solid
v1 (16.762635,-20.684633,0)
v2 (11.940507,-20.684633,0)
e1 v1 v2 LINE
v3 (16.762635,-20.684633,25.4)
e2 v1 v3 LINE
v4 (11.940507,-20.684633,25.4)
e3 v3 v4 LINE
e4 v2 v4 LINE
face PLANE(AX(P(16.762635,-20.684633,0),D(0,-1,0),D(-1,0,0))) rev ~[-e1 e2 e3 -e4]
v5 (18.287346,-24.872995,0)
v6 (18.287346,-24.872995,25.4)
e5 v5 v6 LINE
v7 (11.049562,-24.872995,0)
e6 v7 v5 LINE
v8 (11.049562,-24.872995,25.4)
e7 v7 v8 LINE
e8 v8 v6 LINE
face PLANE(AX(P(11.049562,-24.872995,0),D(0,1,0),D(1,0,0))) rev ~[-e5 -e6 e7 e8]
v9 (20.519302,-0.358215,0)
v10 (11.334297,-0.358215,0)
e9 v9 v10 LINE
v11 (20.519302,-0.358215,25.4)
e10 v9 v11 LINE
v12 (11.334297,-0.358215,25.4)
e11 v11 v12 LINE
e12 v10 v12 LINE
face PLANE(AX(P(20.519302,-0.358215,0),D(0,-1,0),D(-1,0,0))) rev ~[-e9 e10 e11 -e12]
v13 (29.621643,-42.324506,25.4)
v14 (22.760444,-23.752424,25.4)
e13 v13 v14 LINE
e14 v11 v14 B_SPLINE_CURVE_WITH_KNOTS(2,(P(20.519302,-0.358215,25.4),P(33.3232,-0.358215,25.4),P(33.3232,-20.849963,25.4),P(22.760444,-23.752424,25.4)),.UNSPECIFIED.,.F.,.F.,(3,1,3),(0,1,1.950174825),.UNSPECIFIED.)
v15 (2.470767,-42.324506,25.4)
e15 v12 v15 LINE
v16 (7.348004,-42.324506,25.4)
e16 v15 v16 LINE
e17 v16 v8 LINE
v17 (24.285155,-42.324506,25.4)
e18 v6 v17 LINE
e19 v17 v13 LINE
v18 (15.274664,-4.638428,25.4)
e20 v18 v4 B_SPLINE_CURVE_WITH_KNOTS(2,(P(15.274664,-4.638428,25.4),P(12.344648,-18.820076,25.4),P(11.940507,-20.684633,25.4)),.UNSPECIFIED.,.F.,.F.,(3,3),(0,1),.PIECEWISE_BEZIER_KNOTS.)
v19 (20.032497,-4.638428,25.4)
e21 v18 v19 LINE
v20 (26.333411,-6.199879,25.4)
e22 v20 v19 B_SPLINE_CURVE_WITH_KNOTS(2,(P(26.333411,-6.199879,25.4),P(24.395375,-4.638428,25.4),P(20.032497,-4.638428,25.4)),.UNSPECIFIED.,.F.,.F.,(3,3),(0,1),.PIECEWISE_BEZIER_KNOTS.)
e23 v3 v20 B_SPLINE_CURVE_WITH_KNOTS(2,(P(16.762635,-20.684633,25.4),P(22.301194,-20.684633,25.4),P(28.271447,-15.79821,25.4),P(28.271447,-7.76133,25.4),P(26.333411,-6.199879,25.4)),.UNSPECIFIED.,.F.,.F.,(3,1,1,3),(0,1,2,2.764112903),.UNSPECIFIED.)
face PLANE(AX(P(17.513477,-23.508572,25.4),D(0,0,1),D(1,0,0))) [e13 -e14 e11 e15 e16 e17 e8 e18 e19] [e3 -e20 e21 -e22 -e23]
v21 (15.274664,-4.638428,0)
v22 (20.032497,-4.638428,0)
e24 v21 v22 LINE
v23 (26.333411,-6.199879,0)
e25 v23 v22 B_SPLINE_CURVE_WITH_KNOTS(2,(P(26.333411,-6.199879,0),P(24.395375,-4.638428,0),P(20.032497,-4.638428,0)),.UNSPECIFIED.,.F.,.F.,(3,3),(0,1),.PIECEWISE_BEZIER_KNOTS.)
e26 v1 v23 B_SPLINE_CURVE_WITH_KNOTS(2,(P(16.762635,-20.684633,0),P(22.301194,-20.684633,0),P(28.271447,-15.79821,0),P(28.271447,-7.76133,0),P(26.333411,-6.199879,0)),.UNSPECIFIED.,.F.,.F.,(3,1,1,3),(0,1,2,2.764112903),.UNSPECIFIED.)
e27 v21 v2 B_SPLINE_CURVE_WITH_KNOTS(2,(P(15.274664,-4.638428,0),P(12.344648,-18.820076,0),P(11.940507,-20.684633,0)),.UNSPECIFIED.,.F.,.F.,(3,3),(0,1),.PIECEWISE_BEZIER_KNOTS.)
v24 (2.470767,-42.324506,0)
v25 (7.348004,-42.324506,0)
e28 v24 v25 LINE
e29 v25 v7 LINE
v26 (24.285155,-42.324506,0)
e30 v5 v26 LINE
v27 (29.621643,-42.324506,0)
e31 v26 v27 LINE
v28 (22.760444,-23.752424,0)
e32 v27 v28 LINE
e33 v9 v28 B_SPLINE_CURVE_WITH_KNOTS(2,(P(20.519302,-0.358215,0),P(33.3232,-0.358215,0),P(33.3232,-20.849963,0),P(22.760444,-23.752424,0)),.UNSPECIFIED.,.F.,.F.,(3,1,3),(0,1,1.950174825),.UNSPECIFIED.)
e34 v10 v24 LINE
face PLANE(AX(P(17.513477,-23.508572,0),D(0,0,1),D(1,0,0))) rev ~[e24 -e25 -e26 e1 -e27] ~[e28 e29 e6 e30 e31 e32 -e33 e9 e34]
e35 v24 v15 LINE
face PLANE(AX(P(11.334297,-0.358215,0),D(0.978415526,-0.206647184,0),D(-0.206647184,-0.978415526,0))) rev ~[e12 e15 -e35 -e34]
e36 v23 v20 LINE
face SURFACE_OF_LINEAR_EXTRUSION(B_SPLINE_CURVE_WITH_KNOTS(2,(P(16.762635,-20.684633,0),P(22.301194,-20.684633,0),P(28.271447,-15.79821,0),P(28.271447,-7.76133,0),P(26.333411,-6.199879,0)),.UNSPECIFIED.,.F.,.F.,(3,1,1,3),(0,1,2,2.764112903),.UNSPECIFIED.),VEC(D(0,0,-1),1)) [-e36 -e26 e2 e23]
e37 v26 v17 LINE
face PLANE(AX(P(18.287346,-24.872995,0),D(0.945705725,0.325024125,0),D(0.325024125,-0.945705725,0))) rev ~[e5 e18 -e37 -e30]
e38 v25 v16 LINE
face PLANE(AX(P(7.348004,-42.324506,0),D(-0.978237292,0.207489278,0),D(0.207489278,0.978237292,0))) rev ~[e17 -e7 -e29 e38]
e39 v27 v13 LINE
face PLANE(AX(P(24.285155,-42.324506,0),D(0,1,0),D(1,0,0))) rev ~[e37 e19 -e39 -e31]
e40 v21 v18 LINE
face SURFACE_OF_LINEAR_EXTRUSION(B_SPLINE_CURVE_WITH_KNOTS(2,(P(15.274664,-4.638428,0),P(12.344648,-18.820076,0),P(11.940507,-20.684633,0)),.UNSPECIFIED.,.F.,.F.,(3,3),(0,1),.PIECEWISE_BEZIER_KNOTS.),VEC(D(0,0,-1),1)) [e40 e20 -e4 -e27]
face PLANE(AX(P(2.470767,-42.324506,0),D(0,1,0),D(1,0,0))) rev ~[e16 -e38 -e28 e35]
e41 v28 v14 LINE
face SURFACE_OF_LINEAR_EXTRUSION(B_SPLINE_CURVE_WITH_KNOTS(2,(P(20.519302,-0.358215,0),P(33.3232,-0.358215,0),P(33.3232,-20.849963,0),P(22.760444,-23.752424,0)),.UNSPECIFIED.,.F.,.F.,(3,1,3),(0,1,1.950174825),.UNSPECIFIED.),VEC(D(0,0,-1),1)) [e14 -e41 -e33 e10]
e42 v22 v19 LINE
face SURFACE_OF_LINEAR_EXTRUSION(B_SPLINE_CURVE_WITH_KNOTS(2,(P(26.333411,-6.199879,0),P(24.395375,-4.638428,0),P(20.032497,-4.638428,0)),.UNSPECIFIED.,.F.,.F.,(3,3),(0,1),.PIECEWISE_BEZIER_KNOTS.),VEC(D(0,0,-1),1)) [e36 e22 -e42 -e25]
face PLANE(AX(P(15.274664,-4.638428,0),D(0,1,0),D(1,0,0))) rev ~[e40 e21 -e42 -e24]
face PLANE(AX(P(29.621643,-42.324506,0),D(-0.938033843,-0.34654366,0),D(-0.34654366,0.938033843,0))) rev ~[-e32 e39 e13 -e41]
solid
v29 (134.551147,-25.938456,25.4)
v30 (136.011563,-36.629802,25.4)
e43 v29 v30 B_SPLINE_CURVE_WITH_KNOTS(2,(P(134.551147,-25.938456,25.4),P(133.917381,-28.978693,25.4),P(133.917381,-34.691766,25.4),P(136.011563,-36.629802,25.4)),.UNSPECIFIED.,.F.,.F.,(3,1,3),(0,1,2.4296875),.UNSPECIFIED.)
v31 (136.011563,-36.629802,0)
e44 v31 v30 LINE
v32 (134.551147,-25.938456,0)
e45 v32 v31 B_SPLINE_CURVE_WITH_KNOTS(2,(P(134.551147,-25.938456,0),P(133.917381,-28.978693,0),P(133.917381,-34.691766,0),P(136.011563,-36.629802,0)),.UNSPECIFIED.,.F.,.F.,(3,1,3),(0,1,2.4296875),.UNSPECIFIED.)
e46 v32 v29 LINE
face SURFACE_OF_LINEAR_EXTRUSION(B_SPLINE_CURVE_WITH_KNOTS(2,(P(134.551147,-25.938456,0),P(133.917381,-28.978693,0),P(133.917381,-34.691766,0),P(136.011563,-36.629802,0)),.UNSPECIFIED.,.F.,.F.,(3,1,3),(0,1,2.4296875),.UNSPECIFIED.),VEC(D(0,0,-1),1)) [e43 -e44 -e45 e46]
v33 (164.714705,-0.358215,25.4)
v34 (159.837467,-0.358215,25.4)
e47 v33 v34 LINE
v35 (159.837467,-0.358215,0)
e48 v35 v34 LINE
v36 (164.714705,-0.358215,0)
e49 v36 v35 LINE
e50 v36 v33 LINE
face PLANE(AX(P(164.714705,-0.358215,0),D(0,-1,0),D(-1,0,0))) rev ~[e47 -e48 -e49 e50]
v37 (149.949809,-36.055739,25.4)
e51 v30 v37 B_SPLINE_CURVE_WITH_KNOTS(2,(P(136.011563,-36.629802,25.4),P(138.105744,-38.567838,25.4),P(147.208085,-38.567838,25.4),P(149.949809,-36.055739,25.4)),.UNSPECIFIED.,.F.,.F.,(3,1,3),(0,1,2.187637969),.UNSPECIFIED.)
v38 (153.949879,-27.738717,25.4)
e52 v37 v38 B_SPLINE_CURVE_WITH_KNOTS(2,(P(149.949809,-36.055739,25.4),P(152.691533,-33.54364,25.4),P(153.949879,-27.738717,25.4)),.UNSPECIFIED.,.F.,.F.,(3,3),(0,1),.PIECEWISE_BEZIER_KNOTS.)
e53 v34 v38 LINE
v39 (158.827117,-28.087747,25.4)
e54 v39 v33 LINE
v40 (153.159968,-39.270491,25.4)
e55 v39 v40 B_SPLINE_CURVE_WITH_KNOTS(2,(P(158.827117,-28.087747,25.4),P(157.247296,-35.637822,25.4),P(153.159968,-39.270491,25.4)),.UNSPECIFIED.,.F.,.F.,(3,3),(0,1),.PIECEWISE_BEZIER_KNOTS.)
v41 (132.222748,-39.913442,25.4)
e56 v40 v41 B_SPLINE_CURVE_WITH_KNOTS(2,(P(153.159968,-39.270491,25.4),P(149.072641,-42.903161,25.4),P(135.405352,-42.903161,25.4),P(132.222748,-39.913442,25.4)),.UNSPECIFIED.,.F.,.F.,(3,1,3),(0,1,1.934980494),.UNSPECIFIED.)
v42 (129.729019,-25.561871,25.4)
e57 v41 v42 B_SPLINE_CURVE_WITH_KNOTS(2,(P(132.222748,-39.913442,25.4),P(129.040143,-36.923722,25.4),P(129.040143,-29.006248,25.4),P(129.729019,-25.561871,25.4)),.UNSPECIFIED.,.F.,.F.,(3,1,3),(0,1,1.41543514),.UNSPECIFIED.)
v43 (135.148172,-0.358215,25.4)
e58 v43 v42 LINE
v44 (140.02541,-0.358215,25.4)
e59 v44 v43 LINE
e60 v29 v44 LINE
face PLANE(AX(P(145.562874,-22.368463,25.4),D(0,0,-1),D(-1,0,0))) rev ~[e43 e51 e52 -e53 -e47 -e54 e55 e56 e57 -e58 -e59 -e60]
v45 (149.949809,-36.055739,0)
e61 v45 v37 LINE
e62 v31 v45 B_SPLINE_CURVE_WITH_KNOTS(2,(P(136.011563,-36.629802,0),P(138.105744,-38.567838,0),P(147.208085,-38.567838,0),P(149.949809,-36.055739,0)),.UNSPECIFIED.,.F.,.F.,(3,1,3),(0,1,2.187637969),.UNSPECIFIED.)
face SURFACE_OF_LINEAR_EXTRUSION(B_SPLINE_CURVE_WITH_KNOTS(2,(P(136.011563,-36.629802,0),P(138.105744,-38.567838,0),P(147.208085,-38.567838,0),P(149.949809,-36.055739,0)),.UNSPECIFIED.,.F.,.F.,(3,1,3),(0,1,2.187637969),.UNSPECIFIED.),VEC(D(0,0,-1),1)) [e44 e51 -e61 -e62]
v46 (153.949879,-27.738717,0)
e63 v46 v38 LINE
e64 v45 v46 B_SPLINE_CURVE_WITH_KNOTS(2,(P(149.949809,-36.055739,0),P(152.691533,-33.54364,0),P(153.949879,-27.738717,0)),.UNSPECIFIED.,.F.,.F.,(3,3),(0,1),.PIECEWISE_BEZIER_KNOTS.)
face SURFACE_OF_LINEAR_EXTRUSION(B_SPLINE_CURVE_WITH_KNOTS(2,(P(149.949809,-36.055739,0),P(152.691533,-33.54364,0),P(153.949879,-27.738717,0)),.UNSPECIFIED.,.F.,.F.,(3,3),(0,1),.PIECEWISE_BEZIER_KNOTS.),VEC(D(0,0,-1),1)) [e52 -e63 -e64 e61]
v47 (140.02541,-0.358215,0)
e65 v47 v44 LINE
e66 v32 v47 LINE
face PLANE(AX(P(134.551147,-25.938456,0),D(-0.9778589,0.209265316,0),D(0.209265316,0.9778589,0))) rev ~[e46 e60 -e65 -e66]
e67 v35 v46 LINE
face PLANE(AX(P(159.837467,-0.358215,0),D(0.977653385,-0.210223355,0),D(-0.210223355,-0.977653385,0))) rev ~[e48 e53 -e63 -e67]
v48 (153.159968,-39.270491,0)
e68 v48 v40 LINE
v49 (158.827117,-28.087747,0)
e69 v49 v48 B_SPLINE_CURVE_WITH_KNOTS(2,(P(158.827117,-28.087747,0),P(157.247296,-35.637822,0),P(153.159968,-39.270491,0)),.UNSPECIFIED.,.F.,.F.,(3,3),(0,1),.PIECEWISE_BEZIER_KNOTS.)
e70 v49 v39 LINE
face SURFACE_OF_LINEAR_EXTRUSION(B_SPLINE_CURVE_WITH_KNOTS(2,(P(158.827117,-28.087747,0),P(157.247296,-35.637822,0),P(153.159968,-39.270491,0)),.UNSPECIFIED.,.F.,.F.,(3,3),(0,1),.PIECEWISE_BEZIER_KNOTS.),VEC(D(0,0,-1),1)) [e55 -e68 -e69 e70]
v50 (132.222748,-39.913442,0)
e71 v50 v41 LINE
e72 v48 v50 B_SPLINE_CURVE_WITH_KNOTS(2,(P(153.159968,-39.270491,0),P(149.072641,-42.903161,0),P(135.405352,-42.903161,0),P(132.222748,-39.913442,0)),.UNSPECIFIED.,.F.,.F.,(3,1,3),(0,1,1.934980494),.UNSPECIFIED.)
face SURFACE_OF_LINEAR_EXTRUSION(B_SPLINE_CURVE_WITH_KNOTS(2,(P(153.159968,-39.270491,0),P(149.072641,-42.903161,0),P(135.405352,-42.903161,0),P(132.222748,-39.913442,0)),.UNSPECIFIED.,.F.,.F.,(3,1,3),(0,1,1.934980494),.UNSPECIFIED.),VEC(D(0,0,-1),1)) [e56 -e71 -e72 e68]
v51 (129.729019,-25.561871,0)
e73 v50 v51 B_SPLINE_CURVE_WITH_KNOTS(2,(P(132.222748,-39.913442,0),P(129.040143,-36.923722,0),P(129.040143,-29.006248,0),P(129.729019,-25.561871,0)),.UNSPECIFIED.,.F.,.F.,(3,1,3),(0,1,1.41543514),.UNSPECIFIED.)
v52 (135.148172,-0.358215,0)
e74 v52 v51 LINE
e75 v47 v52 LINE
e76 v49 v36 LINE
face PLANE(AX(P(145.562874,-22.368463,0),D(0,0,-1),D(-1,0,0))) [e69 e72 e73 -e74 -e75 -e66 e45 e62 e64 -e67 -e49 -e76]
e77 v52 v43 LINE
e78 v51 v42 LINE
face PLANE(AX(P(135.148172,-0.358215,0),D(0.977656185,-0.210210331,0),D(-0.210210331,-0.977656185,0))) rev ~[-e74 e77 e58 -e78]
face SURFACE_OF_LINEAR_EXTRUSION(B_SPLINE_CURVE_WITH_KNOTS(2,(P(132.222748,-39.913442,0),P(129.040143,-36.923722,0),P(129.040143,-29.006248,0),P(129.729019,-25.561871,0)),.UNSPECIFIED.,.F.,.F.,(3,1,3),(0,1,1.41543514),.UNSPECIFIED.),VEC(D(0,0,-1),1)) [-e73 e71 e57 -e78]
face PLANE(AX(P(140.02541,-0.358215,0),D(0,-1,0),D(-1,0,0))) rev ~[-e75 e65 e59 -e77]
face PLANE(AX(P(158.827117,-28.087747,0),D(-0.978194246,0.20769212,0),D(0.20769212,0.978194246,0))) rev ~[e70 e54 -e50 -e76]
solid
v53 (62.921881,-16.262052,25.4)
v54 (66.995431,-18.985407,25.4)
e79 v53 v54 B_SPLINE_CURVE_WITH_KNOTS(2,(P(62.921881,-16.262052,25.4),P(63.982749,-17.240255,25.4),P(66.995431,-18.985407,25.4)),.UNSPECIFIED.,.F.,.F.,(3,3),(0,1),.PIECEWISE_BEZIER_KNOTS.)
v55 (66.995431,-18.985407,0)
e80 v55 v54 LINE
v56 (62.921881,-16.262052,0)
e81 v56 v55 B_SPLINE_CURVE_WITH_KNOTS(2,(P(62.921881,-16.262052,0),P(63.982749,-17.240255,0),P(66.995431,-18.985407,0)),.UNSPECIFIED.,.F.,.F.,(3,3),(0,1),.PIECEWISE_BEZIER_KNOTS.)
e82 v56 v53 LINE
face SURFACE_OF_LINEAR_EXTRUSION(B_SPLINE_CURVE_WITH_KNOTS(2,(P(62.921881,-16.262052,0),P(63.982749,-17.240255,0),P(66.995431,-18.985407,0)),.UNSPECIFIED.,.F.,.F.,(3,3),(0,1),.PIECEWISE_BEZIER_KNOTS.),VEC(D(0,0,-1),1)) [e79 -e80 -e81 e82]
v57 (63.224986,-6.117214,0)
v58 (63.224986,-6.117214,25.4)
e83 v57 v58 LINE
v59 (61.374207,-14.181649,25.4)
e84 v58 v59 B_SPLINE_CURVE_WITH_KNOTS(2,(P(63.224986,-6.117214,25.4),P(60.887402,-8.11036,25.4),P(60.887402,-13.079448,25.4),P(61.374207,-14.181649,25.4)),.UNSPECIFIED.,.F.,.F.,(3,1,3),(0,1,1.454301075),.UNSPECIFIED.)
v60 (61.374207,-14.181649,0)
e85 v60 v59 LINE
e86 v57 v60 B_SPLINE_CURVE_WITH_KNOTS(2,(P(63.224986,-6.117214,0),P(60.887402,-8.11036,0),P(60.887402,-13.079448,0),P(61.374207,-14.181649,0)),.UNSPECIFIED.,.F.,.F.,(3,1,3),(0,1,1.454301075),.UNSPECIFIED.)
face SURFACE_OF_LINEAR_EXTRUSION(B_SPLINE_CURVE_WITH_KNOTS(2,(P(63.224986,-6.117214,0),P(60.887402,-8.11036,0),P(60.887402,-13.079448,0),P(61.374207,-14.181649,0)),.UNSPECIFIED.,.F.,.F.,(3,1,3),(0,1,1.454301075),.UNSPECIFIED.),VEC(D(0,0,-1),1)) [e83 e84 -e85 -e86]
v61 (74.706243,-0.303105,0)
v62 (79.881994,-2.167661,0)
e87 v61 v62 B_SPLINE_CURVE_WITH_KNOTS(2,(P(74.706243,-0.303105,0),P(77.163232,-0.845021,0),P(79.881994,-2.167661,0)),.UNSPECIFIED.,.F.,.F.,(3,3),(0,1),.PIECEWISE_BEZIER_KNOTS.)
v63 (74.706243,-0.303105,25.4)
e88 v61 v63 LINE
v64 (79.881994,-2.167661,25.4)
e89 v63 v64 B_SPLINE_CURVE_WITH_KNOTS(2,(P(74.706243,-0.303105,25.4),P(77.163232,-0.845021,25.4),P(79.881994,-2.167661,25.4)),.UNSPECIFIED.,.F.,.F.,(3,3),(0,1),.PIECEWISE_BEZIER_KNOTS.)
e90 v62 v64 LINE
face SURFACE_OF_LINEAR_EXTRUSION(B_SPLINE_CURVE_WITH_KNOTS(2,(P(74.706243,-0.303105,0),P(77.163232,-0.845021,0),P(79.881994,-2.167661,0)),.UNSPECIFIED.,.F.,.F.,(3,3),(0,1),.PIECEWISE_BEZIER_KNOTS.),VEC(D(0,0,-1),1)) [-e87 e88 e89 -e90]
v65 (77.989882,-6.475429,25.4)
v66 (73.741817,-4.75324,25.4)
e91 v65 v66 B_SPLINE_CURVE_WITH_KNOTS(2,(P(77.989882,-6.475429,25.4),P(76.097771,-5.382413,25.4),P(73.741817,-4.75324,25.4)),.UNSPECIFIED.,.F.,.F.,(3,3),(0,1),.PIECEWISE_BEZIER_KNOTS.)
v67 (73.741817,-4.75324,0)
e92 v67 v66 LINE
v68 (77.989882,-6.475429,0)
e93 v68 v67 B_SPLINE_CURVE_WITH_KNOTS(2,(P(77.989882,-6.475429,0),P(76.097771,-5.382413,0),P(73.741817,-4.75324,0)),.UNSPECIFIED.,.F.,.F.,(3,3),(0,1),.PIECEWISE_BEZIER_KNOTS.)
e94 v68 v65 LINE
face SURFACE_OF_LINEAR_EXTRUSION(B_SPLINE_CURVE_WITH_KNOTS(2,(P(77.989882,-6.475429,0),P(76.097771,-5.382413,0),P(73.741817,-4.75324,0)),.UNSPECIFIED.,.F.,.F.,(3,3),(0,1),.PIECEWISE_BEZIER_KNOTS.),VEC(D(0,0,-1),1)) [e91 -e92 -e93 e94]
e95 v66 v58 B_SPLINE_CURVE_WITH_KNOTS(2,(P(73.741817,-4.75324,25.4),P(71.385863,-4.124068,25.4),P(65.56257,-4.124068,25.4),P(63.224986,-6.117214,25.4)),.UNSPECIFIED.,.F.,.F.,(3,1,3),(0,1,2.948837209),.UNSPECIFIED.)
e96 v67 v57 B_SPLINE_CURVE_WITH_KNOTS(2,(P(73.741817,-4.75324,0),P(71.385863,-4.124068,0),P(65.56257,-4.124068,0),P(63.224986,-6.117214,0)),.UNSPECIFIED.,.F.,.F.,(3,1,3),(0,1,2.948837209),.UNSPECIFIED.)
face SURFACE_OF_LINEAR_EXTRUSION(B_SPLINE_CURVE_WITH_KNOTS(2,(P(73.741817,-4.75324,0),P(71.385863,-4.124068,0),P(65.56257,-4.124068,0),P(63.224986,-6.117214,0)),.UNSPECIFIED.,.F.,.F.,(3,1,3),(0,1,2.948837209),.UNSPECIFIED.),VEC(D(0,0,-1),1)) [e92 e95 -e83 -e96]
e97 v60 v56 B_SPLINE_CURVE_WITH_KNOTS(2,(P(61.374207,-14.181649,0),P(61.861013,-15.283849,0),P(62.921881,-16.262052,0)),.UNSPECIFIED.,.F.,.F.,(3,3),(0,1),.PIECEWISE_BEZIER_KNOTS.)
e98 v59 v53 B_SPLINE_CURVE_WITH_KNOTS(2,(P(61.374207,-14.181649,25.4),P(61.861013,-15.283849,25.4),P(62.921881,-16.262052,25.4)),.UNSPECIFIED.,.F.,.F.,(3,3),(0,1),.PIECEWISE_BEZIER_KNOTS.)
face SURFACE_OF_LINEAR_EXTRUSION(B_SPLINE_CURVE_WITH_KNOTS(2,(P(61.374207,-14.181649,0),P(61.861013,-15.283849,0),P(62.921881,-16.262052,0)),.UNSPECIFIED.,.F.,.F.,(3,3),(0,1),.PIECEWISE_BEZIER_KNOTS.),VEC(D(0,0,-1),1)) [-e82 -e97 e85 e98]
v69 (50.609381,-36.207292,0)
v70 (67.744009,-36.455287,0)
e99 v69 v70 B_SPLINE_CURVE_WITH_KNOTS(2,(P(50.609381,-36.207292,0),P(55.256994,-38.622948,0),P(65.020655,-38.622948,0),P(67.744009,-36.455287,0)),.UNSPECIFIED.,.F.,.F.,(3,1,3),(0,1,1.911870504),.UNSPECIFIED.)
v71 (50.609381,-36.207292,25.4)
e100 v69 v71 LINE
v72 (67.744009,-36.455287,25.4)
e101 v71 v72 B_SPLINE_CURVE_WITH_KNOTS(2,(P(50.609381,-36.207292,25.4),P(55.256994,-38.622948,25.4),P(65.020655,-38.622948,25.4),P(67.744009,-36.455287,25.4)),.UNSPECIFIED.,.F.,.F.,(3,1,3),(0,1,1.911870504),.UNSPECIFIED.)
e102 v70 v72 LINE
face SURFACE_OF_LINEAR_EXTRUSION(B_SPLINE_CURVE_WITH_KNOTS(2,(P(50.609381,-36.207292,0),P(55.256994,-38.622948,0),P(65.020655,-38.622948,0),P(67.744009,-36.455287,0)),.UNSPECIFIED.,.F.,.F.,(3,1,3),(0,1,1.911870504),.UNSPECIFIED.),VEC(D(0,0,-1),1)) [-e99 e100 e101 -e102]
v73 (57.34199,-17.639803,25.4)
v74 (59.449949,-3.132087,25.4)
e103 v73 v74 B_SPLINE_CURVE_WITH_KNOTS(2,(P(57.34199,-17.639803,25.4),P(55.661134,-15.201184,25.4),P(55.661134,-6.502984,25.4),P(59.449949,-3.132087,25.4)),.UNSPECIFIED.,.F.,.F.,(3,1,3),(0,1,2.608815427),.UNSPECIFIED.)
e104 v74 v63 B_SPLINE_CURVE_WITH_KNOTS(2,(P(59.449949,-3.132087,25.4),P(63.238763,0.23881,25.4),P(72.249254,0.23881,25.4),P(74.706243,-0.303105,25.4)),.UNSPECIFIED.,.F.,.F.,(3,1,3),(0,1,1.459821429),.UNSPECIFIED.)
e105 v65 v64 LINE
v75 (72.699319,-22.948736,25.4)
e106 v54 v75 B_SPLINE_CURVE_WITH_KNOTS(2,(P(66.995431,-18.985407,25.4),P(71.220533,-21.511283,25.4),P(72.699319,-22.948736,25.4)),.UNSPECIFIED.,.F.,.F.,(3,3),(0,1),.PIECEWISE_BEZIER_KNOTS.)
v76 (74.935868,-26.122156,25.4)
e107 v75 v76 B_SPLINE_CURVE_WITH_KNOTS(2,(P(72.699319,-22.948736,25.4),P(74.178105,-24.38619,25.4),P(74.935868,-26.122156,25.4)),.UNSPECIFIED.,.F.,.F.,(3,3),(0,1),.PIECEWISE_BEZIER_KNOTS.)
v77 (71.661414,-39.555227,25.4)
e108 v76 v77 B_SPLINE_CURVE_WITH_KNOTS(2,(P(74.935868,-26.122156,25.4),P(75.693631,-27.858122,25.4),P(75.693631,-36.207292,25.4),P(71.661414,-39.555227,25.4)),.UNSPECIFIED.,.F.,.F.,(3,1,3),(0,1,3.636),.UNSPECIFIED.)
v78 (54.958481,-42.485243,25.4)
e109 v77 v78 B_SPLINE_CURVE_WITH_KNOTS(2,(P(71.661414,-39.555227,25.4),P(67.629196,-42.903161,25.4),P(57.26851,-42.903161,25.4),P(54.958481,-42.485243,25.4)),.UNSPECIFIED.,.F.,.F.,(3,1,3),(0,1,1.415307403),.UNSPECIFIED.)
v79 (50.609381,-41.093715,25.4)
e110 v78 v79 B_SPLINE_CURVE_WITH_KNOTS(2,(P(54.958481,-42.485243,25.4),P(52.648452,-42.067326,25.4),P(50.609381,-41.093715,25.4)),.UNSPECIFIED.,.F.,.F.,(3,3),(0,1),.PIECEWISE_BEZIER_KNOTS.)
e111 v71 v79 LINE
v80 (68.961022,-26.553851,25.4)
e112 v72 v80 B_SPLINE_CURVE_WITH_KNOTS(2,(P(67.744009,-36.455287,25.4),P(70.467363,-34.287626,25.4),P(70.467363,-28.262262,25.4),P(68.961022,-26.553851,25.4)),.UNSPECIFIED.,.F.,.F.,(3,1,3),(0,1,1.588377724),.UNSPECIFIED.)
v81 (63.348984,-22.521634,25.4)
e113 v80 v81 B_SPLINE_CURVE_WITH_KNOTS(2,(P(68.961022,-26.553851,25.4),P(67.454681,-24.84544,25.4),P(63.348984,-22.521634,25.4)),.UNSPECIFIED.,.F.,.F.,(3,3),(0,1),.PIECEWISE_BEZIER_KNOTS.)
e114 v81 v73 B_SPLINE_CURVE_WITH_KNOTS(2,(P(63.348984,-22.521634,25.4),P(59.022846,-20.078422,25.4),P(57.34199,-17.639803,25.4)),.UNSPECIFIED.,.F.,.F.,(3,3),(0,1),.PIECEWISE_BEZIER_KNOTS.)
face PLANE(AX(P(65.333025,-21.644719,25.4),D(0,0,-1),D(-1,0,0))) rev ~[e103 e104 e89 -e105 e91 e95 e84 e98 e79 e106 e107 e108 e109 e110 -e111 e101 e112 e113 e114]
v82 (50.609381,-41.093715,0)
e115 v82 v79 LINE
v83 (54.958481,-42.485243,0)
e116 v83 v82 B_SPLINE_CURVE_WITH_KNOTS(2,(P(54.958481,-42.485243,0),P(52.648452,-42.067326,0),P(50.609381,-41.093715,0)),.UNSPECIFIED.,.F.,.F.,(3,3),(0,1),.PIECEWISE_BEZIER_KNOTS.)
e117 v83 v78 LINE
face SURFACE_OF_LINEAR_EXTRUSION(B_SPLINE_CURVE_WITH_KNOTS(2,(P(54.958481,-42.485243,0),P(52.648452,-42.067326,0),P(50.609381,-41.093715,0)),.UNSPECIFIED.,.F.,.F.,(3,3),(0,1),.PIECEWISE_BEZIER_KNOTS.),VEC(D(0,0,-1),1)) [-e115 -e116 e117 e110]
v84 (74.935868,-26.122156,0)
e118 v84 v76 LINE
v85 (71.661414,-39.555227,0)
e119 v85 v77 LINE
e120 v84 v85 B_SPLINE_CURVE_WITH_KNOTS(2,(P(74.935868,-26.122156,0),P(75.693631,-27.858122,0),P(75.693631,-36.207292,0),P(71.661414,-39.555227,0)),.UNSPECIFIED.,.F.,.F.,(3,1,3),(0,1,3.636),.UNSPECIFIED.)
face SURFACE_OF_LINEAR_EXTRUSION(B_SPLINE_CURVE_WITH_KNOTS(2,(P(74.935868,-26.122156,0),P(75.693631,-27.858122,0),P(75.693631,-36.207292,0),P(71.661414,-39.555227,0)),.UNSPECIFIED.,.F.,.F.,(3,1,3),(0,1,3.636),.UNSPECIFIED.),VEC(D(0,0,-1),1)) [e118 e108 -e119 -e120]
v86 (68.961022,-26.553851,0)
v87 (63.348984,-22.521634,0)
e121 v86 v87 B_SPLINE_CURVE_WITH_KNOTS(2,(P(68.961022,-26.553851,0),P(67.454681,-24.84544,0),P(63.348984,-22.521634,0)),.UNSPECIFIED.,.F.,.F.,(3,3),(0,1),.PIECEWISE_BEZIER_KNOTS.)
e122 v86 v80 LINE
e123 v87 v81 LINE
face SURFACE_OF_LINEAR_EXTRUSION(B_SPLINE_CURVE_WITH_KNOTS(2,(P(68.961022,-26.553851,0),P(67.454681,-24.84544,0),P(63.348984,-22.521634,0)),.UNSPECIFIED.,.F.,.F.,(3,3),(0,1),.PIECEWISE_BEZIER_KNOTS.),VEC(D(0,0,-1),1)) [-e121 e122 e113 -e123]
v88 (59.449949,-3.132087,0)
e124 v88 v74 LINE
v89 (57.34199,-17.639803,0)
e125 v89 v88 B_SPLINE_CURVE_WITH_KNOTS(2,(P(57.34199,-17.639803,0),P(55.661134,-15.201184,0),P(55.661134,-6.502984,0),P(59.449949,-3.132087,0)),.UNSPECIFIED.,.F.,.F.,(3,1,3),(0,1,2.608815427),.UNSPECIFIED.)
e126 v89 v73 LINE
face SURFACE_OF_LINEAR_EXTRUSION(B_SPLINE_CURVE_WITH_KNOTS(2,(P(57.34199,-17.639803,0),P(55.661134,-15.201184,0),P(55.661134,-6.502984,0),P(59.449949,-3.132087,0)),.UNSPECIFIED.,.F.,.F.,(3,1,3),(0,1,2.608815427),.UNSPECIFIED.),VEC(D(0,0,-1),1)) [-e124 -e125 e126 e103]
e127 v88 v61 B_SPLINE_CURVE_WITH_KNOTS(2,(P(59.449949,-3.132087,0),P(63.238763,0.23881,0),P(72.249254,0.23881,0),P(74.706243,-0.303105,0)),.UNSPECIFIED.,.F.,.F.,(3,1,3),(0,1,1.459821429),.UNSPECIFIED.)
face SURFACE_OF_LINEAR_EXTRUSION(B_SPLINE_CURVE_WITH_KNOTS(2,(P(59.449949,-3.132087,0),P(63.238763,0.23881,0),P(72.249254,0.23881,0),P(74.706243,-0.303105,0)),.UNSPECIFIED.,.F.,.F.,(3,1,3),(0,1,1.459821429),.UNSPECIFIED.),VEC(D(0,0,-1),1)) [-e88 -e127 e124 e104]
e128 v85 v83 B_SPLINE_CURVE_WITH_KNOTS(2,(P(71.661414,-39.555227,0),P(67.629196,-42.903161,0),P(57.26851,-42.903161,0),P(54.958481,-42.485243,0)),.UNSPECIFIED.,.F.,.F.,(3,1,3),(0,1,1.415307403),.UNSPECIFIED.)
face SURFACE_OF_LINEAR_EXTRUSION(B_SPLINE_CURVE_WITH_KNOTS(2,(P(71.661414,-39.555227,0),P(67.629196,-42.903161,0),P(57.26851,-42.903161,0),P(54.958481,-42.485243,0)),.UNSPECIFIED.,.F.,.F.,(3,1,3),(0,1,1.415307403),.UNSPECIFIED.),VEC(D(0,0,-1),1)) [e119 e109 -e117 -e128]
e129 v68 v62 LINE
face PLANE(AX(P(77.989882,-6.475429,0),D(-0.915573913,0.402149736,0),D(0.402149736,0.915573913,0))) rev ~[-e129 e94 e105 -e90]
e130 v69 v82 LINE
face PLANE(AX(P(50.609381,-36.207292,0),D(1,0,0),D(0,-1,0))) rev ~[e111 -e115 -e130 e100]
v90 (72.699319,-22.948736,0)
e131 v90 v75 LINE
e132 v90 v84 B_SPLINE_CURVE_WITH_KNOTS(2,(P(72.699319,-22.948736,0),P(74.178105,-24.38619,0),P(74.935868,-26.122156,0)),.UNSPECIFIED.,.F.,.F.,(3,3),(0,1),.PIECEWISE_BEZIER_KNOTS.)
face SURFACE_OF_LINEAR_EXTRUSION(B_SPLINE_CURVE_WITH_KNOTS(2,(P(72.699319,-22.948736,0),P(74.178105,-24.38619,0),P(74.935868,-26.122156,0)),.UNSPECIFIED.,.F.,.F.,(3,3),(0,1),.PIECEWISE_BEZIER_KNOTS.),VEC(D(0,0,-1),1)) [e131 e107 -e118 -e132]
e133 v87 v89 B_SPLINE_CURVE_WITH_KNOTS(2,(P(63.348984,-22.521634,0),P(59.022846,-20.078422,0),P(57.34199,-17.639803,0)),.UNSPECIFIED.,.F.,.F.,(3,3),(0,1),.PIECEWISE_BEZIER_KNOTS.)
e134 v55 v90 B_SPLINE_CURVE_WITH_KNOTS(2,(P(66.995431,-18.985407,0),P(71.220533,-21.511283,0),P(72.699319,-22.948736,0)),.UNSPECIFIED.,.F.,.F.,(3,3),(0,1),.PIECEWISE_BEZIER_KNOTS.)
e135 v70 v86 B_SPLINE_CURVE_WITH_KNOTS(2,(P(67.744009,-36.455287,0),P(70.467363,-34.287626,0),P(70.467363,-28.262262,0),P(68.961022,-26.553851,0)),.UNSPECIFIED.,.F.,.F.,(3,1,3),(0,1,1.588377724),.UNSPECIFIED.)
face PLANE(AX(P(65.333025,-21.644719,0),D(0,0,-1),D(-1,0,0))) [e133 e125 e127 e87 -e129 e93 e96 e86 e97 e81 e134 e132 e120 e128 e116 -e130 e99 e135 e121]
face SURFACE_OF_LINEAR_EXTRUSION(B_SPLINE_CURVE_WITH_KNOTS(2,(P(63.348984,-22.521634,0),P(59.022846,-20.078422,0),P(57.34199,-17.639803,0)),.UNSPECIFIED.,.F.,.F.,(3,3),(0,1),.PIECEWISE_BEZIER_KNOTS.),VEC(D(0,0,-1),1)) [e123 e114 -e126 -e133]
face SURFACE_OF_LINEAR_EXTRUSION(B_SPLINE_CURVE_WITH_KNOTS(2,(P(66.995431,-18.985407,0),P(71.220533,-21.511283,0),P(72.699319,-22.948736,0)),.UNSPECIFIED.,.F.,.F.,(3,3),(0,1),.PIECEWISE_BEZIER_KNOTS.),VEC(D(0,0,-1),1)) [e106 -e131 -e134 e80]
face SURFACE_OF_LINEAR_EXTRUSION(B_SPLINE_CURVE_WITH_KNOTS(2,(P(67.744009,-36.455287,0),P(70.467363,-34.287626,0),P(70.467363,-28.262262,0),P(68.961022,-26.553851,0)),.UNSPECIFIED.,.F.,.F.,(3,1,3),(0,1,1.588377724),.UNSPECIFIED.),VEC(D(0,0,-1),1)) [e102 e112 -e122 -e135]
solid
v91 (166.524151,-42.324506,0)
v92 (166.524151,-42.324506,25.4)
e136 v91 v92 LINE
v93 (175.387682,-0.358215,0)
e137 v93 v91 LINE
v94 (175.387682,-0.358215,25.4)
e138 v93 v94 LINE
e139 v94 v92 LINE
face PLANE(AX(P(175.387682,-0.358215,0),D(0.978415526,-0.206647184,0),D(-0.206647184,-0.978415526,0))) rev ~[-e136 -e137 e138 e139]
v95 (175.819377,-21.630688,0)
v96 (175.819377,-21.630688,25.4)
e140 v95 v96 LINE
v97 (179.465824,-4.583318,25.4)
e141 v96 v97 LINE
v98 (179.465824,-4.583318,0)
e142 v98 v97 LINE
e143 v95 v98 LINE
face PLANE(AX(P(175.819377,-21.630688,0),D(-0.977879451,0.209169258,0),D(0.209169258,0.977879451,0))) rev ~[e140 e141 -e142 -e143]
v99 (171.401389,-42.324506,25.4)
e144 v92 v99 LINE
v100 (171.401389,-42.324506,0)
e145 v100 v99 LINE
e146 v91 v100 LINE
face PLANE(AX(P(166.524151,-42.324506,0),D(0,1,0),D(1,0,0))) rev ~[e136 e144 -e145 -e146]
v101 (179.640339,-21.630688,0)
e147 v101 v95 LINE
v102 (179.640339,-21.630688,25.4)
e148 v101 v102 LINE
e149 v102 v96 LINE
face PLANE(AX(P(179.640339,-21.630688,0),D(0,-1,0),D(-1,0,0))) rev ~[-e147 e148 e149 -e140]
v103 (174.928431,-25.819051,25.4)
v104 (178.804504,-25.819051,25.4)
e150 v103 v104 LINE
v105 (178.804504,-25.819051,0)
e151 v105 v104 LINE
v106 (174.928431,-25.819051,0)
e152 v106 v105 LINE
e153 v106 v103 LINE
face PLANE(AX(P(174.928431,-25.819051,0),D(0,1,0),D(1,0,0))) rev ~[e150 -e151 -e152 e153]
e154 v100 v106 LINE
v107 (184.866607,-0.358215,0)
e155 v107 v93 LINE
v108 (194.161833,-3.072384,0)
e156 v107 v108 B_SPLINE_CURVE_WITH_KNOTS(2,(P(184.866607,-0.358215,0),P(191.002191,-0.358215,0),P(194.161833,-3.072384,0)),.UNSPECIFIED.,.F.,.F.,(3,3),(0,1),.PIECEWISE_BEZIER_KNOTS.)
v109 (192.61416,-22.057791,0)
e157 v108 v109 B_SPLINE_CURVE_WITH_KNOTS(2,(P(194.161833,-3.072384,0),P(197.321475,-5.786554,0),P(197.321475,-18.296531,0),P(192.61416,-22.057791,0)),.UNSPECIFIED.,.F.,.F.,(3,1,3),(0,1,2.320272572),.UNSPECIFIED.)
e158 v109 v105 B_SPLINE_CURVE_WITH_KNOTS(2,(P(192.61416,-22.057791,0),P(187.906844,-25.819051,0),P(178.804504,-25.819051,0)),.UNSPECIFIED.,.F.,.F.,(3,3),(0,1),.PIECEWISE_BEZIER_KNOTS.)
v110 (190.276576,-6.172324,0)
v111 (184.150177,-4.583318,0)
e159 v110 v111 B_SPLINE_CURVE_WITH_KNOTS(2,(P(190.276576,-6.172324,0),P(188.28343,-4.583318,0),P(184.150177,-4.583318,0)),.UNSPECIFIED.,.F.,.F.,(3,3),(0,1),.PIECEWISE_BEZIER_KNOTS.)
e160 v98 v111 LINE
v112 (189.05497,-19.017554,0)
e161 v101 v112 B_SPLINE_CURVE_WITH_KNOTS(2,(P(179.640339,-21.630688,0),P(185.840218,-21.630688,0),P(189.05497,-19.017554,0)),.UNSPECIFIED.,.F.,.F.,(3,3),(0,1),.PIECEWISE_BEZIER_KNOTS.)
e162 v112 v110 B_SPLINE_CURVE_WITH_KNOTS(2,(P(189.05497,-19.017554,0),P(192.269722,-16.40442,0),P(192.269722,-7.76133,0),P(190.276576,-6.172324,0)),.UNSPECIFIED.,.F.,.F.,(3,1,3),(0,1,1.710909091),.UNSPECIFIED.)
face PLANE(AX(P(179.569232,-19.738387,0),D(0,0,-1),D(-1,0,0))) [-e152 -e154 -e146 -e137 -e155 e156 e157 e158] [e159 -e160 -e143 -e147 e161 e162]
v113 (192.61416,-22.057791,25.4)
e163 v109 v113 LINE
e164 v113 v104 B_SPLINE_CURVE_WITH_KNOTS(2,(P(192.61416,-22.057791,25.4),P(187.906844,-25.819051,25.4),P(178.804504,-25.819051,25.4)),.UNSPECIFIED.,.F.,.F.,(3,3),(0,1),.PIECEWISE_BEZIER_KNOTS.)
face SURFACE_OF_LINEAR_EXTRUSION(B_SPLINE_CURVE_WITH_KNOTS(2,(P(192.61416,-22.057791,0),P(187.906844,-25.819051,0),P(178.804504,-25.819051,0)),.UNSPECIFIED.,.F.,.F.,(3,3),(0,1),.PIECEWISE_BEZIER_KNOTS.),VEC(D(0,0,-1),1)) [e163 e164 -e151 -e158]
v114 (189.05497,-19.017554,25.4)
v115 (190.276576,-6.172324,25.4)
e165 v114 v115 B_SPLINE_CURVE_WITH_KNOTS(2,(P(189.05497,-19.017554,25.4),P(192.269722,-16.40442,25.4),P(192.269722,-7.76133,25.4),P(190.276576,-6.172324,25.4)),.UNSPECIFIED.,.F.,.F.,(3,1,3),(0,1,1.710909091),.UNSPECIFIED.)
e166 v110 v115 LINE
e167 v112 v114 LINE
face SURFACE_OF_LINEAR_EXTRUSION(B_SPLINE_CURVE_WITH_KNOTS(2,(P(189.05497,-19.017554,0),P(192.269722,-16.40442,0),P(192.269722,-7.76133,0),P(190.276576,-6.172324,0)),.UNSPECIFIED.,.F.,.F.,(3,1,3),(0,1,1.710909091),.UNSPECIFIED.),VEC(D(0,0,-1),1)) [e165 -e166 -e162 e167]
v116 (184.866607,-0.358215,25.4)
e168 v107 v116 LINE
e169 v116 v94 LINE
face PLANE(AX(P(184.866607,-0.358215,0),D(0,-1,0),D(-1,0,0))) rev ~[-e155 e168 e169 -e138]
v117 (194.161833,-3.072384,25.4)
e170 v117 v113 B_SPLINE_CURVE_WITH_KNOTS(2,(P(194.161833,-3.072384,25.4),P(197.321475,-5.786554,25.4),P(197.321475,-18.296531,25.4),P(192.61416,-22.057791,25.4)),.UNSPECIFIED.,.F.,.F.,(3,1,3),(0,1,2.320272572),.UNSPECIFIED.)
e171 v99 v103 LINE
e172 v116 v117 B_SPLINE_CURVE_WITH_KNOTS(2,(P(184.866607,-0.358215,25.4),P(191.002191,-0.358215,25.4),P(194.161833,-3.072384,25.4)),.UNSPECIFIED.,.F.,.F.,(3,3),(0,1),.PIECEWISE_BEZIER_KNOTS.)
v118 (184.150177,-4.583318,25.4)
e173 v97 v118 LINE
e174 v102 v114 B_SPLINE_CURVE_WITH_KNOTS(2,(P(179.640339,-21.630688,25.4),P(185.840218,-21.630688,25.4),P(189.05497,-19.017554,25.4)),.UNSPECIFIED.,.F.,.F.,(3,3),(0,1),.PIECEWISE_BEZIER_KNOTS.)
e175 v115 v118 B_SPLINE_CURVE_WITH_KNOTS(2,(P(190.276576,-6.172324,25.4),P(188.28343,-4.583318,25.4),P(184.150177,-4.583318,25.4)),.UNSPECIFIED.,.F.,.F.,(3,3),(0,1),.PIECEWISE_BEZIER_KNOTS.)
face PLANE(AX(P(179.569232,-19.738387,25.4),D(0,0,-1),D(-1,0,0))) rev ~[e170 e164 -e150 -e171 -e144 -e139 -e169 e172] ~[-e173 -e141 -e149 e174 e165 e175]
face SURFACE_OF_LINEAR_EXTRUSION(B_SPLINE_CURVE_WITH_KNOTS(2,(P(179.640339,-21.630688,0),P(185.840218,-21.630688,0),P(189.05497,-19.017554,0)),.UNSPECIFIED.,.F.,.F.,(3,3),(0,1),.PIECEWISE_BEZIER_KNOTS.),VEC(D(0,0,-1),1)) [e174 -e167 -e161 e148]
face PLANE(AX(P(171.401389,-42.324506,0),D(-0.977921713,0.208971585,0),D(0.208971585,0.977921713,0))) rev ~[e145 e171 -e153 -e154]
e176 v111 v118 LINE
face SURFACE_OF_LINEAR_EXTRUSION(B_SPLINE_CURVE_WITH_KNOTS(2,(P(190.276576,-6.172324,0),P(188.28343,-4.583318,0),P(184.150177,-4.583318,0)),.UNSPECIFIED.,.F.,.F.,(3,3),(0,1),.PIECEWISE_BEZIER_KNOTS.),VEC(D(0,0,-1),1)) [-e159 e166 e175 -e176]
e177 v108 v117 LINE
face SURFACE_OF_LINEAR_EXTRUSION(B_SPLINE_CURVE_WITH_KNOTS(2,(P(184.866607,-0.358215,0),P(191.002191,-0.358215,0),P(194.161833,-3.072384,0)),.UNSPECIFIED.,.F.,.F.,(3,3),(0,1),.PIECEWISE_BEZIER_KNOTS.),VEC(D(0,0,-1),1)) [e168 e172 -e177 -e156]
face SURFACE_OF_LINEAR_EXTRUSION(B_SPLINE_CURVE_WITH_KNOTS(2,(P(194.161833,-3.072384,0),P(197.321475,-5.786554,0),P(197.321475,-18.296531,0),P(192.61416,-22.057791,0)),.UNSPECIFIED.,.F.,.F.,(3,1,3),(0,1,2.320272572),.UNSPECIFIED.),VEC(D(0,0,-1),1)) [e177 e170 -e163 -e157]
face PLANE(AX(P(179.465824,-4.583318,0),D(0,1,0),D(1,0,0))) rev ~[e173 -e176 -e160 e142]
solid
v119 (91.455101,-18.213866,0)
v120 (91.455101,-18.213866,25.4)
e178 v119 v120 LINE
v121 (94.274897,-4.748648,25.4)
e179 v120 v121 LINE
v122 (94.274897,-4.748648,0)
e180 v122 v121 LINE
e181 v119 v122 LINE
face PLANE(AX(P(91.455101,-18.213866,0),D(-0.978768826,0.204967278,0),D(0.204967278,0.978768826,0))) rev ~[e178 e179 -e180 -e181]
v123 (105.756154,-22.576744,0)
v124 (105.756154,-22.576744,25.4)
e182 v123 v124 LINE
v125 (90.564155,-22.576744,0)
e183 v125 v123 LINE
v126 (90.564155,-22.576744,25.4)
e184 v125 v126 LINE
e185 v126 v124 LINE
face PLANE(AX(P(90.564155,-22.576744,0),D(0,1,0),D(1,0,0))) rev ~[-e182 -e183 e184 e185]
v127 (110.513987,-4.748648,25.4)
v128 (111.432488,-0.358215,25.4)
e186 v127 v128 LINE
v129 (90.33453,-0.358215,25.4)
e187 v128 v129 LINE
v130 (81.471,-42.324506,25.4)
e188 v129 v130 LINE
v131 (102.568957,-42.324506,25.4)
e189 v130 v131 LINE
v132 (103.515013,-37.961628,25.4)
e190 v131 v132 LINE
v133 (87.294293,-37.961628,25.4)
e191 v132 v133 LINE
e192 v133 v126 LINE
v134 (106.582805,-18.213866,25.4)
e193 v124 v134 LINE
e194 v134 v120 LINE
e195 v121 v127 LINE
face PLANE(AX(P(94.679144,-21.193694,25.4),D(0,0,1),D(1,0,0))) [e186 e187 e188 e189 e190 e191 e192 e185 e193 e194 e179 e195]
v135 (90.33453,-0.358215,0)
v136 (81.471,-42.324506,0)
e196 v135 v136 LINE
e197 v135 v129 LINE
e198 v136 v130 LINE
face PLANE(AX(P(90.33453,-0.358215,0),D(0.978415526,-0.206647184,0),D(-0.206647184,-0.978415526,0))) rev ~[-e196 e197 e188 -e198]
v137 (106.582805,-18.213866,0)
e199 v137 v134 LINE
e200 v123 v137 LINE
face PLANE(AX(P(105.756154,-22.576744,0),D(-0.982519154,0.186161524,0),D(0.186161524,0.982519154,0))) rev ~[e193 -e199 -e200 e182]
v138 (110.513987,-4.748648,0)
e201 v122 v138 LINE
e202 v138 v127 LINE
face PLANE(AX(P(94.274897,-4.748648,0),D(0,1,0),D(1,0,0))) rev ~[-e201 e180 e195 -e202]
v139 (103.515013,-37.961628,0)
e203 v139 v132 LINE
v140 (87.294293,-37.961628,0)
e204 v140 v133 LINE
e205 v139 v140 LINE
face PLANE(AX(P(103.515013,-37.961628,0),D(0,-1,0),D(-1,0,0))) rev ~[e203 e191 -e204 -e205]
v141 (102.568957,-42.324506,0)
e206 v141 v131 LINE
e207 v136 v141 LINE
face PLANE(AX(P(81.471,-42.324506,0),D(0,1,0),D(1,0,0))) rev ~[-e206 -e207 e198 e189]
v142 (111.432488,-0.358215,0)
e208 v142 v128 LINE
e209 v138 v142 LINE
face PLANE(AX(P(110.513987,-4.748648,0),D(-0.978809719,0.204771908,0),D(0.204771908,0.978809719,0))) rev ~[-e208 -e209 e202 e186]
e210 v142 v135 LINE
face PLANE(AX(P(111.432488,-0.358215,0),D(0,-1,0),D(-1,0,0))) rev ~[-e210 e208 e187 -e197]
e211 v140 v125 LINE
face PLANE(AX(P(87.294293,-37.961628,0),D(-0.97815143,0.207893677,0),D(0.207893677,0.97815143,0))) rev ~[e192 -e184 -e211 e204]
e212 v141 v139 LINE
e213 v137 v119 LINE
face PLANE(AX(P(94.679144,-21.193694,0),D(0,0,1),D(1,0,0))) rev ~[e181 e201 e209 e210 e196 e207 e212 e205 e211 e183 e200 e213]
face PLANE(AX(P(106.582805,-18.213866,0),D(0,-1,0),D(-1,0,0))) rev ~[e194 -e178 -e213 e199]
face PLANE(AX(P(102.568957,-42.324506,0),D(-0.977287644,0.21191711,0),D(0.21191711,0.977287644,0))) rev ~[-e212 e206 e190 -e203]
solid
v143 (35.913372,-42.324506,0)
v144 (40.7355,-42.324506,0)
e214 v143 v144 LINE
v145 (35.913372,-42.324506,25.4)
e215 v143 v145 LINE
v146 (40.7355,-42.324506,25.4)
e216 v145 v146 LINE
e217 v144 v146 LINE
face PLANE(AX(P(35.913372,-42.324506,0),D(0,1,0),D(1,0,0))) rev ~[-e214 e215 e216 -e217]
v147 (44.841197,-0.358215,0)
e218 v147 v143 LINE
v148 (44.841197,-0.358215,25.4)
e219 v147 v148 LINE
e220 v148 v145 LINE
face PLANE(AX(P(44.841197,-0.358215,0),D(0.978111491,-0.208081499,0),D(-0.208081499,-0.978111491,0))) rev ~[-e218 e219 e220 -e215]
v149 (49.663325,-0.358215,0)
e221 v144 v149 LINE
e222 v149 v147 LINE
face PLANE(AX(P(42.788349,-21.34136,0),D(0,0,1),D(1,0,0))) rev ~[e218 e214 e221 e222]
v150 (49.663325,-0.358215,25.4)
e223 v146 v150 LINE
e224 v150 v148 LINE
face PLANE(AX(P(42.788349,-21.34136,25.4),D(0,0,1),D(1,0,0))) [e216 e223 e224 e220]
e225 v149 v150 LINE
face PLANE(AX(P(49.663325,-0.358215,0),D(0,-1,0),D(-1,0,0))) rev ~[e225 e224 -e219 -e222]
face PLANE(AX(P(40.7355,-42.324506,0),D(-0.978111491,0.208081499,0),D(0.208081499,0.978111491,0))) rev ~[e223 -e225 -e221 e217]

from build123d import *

# Parameters (mm, degrees)
F2_DEPTH = 25.4


with BuildPart() as f2:
    # F1 (on face) → F2 (new body)
    with BuildSketch(Plane.XY):
        Polygon((90.3345299513, -0.3582152179), (81.4709995595, -42.3245057464), (102.5689573936, -42.3245057464), (103.5150129691, -37.9616280924), (87.2942931019, -37.9616280924), (90.564155091, -22.5767437336), (105.7561543324, -22.5767437336), (106.5828048352, -18.2138660797), (91.4551006329, -18.2138660797), (94.2748973482, -4.7486478886), (110.5139872266, -4.7486478886), (111.4324877854, -0.3582152179), align=None)
    extrude(amount=F2_DEPTH)


with BuildPart() as f2b:
    # F1 (on face) → F2, piece 2 (new body)
    with BuildSketch(Plane.XY):
        with BuildLine():
            add(Edge.make_bspline(
                [(75.6936310451, -30.1543733432), (75.6936310451, -36.2072920252), (71.6614135923, -39.5552265618)],
                knots=[0, 0, 0, 1, 1, 1], degree=2))
            add(Edge.make_bspline(
                [(74.9358680841, -26.1221558903), (75.6936310451, -27.8581219463), (75.6936310451, -30.1543733432)],
                knots=[0, 0, 0, 1, 1, 1], degree=2))
            add(Edge.make_bspline(
                [(72.6993192236, -22.9487364599), (74.1781051232, -24.3861898343), (74.9358680841, -26.1221558903)],
                knots=[0, 0, 0, 1, 1, 1], degree=2))
            add(Edge.make_bspline(
                [(66.9954307539, -18.985406549), (71.2205333241, -21.5112830855), (72.6993192236, -22.9487364599)],
                knots=[0, 0, 0, 1, 1, 1], degree=2))
            add(Edge.make_bspline(
                [(62.9218807759, -16.2620523923), (63.9827489213, -17.2402554874), (66.9954307539, -18.985406549)],
                knots=[0, 0, 0, 1, 1, 1], degree=2))
            add(Edge.make_bspline(
                [(61.3742073345, -14.1816486268), (61.8610126306, -15.2838492973), (62.9218807759, -16.2620523923)],
                knots=[0, 0, 0, 1, 1, 1], degree=2))
            add(Edge.make_bspline(
                [(60.8874020383, -11.5271820121), (60.8874020383, -13.0794479563), (61.3742073345, -14.1816486268)],
                knots=[0, 0, 0, 1, 1, 1], degree=2))
            add(Edge.make_bspline(
                [(63.2249859603, -6.1172137212), (60.8874020383, -8.1103599336), (60.8874020383, -11.5271820121)],
                knots=[0, 0, 0, 1, 1, 1], degree=2))
            add(Edge.make_bspline(
                [(69.4110872234, -4.1240675087), (65.5625698823, -4.1240675087), (63.2249859603, -6.1172137212)],
                knots=[0, 0, 0, 1, 1, 1], degree=2))
            add(Edge.make_bspline(
                [(73.7418173578, -4.7532403914), (71.3858634246, -4.1240675087), (69.4110872234, -4.1240675087)],
                knots=[0, 0, 0, 1, 1, 1], degree=2))
            add(Edge.make_bspline(
                [(77.9898824419, -6.4754289391), (76.0977712909, -5.3824132742), (73.7418173578, -4.7532403914)],
                knots=[0, 0, 0, 1, 1, 1], degree=2))
            Line((77.9898824419, -6.4754289391), (79.8819935929, -2.1676613186))
            add(Edge.make_bspline(
                [(74.7062429445, -0.3031051844), (77.1632319391, -0.845020514), (79.8819935929, -2.1676613186)],
                knots=[0, 0, 0, 1, 1, 1], degree=2))
            add(Edge.make_bspline(
                [(69.4110872234, 0.2388101453), (72.2492539498, 0.2388101453), (74.7062429445, -0.3031051844)],
                knots=[0, 0, 0, 1, 1, 1], degree=2))
            add(Edge.make_bspline(
                [(59.4499486639, -3.1320869053), (63.2387634687, 0.2388101453), (69.4110872234, 0.2388101453)],
                knots=[0, 0, 0, 1, 1, 1], degree=2))
            add(Edge.make_bspline(
                [(55.6611338592, -11.8670272188), (55.6611338592, -6.5029839558), (59.4499486639, -3.1320869053)],
                knots=[0, 0, 0, 1, 1, 1], degree=2))
            add(Edge.make_bspline(
                [(57.3419898816, -17.6398032304), (55.6611338592, -15.201184247), (55.6611338592, -11.8670272188)],
                knots=[0, 0, 0, 1, 1, 1], degree=2))
            add(Edge.make_bspline(
                [(63.3489835357, -22.5216337001), (59.0228459041, -20.0784222139), (57.3419898816, -17.6398032304)],
                knots=[0, 0, 0, 1, 1, 1], degree=2))
            add(Edge.make_bspline(
                [(68.9610219496, -26.5538511529), (67.4546810333, -24.8454401137), (63.3489835357, -22.5216337001)],
                knots=[0, 0, 0, 1, 1, 1], degree=2))
            add(Edge.make_bspline(
                [(70.4673628659, -30.4942185499), (70.4673628659, -28.2622621922), (68.9610219496, -26.5538511529)],
                knots=[0, 0, 0, 1, 1, 1], degree=2))
            add(Edge.make_bspline(
                [(67.7440087093, -36.4552871761), (70.4673628659, -34.2876258575), (70.4673628659, -30.4942185499)],
                knots=[0, 0, 0, 1, 1, 1], degree=2))
            add(Edge.make_bspline(
                [(60.3638567199, -38.6229484947), (65.0206545526, -38.6229484947), (67.7440087093, -36.4552871761)],
                knots=[0, 0, 0, 1, 1, 1], degree=2))
            add(Edge.make_bspline(
                [(50.6093807861, -36.2072920252), (55.2569936133, -38.6229484947), (60.3638567199, -38.6229484947)],
                knots=[0, 0, 0, 1, 1, 1], degree=2))
            Line((50.6093807861, -36.2072920252), (50.6093807861, -41.0937149977))
            add(Edge.make_bspline(
                [(54.9584809317, -42.4852433441), (52.6484520265, -42.0673255899), (50.6093807861, -41.0937149977)],
                knots=[0, 0, 0, 1, 1, 1], degree=2))
            add(Edge.make_bspline(
                [(60.3087466863, -42.9031610984), (57.2685098369, -42.9031610984), (54.9584809317, -42.4852433441)],
                knots=[0, 0, 0, 1, 1, 1], degree=2))
            add(Edge.make_bspline(
                [(71.6614135923, -39.5552265618), (67.6291961394, -42.9031610984), (60.3087466863, -42.9031610984)],
                knots=[0, 0, 0, 1, 1, 1], degree=2))
        make_face()
    extrude(amount=F2_DEPTH)


with BuildPart() as f2c:
    # F1 (on face) → F2, piece 3 (new body)
    with BuildSketch(Plane.XY):
        Polygon((49.6633252106, -0.3582152179), (44.8411972773, -0.3582152179), (35.9133718464, -42.3245057464), (40.7354997798, -42.3245057464), align=None)
    extrude(amount=F2_DEPTH)


with BuildPart() as f2d:
    # F1 (on face) → F2, piece 4 (new body)
    with BuildSketch(Plane.XY):
        with BuildLine():
            add(Edge.make_bspline(
                [(158.8271166159, -28.087747086), (157.2472956549, -35.6378216788), (153.1599681685, -39.2704913886)],
                knots=[0, 0, 0, 1, 1, 1], degree=2))
            Line((158.8271166159, -28.087747086), (164.7147051974, -0.3582152179))
            Line((164.7147051974, -0.3582152179), (159.8374672305, -0.3582152179))
            Line((159.8374672305, -0.3582152179), (153.949878649, -27.7387168737))
            add(Edge.make_bspline(
                [(149.9498087158, -36.055739433), (152.6915328836, -33.5436404049), (153.949878649, -27.7387168737)],
                knots=[0, 0, 0, 1, 1, 1], degree=2))
            add(Edge.make_bspline(
                [(142.266551542, -38.5678384612), (147.208084548, -38.5678384612), (149.9498087158, -36.055739433)],
                knots=[0, 0, 0, 1, 1, 1], degree=2))
            add(Edge.make_bspline(
                [(136.011562737, -36.6298022822), (138.1057440109, -38.5678384612), (142.266551542, -38.5678384612)],
                knots=[0, 0, 0, 1, 1, 1], degree=2))
            add(Edge.make_bspline(
                [(133.9173814631, -31.3300540583), (133.9173814631, -34.6917661033), (136.011562737, -36.6298022822)],
                knots=[0, 0, 0, 1, 1, 1], degree=2))
            add(Edge.make_bspline(
                [(134.5511468486, -25.9384557786), (133.9173814631, -28.978692628), (133.9173814631, -31.3300540583)],
                knots=[0, 0, 0, 1, 1, 1], degree=2))
            Line((134.5511468486, -25.9384557786), (140.0254101787, -0.3582152179))
            Line((140.0254101787, -0.3582152179), (135.1481722118, -0.3582152179))
            Line((135.1481722118, -0.3582152179), (129.7290189153, -25.5618705495))
            add(Edge.make_bspline(
                [(129.0401434962, -31.3300540583), (129.0401434962, -29.0062476448), (129.7290189153, -25.5618705495)],
                knots=[0, 0, 0, 1, 1, 1], degree=2))
            add(Edge.make_bspline(
                [(132.2227479322, -39.9134417797), (129.0401434962, -36.923722461), (129.0401434962, -31.3300540583)],
                knots=[0, 0, 0, 1, 1, 1], degree=2))
            add(Edge.make_bspline(
                [(142.0093713855, -42.9031610984), (135.4053523683, -42.9031610984), (132.2227479322, -39.9134417797)],
                knots=[0, 0, 0, 1, 1, 1], degree=2))
            add(Edge.make_bspline(
                [(153.1599681685, -39.2704913886), (149.0726406822, -42.9031610984), (142.0093713855, -42.9031610984)],
                knots=[0, 0, 0, 1, 1, 1], degree=2))
        make_face()
    extrude(amount=F2_DEPTH)


with BuildPart() as f2e:
    # F1 (on face) → F2, piece 5 (new body)
    with BuildSketch(Plane.XY):
        with BuildLine():
            Line((2.470766503, -42.3245057464), (7.3480044699, -42.3245057464))
            Line((7.3480044699, -42.3245057464), (11.0495617215, -24.8729951305))
            Line((11.0495617215, -24.8729951305), (18.2873461244, -24.8729951305))
            Line((18.2873461244, -24.8729951305), (24.2851547729, -42.3245057464))
            Line((24.2851547729, -42.3245057464), (29.6216430191, -42.3245057464))
            Line((29.6216430191, -42.3245057464), (22.7604438454, -23.7524244488))
            add(Edge.make_bspline(
                [(33.3232002708, -10.8658616098), (33.3232002708, -20.8499626832), (22.7604438454, -23.7524244488)],
                knots=[0, 0, 0, 1, 1, 1], degree=2))
            add(Edge.make_bspline(
                [(20.5193024821, -0.3582152179), (33.3232002708, -0.3582152179), (33.3232002708, -10.8658616098)],
                knots=[0, 0, 0, 1, 1, 1], degree=2))
            Line((20.5193024821, -0.3582152179), (11.3342968948, -0.3582152179))
            Line((11.3342968948, -0.3582152179), (2.470766503, -42.3245057464))
        make_face()
        with BuildLine():
            add(Edge.make_bspline(
                [(15.2746642917, -4.6384278216), (12.3446475094, -18.8200764484), (11.9405072635, -20.6846325826)],
                knots=[0, 0, 0, 1, 1, 1], degree=2))
            Line((15.2746642917, -4.6384278216), (20.0324971859, -4.6384278216))
            add(Edge.make_bspline(
                [(26.3334110188, -6.1998787714), (24.3953748399, -4.6384278216), (20.0324971859, -4.6384278216)],
                knots=[0, 0, 0, 1, 1, 1], degree=2))
            add(Edge.make_bspline(
                [(28.2714471978, -11.2424468389), (28.2714471978, -7.7613297213), (26.3334110188, -6.1998787714)],
                knots=[0, 0, 0, 1, 1, 1], degree=2))
            add(Edge.make_bspline(
                [(25.2863203819, -18.2414210964), (28.2714471978, -15.7982096102), (28.2714471978, -11.2424468389)],
                knots=[0, 0, 0, 1, 1, 1], degree=2))
            add(Edge.make_bspline(
                [(16.7626351969, -20.6846325826), (22.301193566, -20.6846325826), (25.2863203819, -18.2414210964)],
                knots=[0, 0, 0, 1, 1, 1], degree=2))
            Line((16.7626351969, -20.6846325826), (11.9405072635, -20.6846325826))
        make_face(mode=Mode.SUBTRACT)
    extrude(amount=F2_DEPTH)


with BuildPart() as f2f:
    # F1 (on face) → F2, piece 6 (new body)
    with BuildSketch(Plane.XY):
        with BuildLine():
            add(Edge.make_bspline(
                [(197.3214750324, -11.1781517998), (197.3214750324, -18.2965311299), (192.6141596689, -22.0577909179)],
                knots=[0, 0, 0, 1, 1, 1], degree=2))
            add(Edge.make_bspline(
                [(194.1618331103, -3.072384369), (197.3214750324, -5.78655352), (197.3214750324, -11.1781517998)],
                knots=[0, 0, 0, 1, 1, 1], degree=2))
            add(Edge.make_bspline(
                [(184.866607456, -0.3582152179), (191.0021911883, -0.3582152179), (194.1618331103, -3.072384369)],
                knots=[0, 0, 0, 1, 1, 1], degree=2))
            Line((184.866607456, -0.3582152179), (175.3876816899, -0.3582152179))
            Line((175.3876816899, -0.3582152179), (166.5241512981, -42.3245057464))
            Line((166.5241512981, -42.3245057464), (171.401389265, -42.3245057464))
            Line((171.401389265, -42.3245057464), (174.9284314105, -25.819050706))
            Line((174.9284314105, -25.819050706), (178.8045037683, -25.819050706))
            add(Edge.make_bspline(
                [(192.6141596689, -22.0577909179), (187.9068443054, -25.819050706), (178.8045037683, -25.819050706)],
                knots=[0, 0, 0, 1, 1, 1], degree=2))
        make_face()
        with BuildLine():
            add(Edge.make_bspline(
                [(179.6403392768, -21.6306881581), (185.8402180482, -21.6306881581), (189.0549700038, -19.0175540685)],
                knots=[0, 0, 0, 1, 1, 1], degree=2))
            Line((179.6403392768, -21.6306881581), (175.8193769525, -21.6306881581))
            Line((175.8193769525, -21.6306881581), (179.4658241706, -4.5833177881))
            Line((179.4658241706, -4.5833177881), (184.1501770202, -4.5833177881))
            add(Edge.make_bspline(
                [(190.2765757469, -6.1723237547), (188.2834295344, -4.5833177881), (184.1501770202, -4.5833177881)],
                knots=[0, 0, 0, 1, 1, 1], degree=2))
            add(Edge.make_bspline(
                [(192.2697219593, -11.3526669059), (192.2697219593, -7.7613297213), (190.2765757469, -6.1723237547)],
                knots=[0, 0, 0, 1, 1, 1], degree=2))
            add(Edge.make_bspline(
                [(189.0549700038, -19.0175540685), (192.2697219593, -16.404419979), (192.2697219593, -11.3526669059)],
                knots=[0, 0, 0, 1, 1, 1], degree=2))
        make_face(mode=Mode.SUBTRACT)
    extrude(amount=F2_DEPTH)


solid = Compound([f2.part, f2b.part, f2c.part, f2d.part, f2e.part, f2f.part])
